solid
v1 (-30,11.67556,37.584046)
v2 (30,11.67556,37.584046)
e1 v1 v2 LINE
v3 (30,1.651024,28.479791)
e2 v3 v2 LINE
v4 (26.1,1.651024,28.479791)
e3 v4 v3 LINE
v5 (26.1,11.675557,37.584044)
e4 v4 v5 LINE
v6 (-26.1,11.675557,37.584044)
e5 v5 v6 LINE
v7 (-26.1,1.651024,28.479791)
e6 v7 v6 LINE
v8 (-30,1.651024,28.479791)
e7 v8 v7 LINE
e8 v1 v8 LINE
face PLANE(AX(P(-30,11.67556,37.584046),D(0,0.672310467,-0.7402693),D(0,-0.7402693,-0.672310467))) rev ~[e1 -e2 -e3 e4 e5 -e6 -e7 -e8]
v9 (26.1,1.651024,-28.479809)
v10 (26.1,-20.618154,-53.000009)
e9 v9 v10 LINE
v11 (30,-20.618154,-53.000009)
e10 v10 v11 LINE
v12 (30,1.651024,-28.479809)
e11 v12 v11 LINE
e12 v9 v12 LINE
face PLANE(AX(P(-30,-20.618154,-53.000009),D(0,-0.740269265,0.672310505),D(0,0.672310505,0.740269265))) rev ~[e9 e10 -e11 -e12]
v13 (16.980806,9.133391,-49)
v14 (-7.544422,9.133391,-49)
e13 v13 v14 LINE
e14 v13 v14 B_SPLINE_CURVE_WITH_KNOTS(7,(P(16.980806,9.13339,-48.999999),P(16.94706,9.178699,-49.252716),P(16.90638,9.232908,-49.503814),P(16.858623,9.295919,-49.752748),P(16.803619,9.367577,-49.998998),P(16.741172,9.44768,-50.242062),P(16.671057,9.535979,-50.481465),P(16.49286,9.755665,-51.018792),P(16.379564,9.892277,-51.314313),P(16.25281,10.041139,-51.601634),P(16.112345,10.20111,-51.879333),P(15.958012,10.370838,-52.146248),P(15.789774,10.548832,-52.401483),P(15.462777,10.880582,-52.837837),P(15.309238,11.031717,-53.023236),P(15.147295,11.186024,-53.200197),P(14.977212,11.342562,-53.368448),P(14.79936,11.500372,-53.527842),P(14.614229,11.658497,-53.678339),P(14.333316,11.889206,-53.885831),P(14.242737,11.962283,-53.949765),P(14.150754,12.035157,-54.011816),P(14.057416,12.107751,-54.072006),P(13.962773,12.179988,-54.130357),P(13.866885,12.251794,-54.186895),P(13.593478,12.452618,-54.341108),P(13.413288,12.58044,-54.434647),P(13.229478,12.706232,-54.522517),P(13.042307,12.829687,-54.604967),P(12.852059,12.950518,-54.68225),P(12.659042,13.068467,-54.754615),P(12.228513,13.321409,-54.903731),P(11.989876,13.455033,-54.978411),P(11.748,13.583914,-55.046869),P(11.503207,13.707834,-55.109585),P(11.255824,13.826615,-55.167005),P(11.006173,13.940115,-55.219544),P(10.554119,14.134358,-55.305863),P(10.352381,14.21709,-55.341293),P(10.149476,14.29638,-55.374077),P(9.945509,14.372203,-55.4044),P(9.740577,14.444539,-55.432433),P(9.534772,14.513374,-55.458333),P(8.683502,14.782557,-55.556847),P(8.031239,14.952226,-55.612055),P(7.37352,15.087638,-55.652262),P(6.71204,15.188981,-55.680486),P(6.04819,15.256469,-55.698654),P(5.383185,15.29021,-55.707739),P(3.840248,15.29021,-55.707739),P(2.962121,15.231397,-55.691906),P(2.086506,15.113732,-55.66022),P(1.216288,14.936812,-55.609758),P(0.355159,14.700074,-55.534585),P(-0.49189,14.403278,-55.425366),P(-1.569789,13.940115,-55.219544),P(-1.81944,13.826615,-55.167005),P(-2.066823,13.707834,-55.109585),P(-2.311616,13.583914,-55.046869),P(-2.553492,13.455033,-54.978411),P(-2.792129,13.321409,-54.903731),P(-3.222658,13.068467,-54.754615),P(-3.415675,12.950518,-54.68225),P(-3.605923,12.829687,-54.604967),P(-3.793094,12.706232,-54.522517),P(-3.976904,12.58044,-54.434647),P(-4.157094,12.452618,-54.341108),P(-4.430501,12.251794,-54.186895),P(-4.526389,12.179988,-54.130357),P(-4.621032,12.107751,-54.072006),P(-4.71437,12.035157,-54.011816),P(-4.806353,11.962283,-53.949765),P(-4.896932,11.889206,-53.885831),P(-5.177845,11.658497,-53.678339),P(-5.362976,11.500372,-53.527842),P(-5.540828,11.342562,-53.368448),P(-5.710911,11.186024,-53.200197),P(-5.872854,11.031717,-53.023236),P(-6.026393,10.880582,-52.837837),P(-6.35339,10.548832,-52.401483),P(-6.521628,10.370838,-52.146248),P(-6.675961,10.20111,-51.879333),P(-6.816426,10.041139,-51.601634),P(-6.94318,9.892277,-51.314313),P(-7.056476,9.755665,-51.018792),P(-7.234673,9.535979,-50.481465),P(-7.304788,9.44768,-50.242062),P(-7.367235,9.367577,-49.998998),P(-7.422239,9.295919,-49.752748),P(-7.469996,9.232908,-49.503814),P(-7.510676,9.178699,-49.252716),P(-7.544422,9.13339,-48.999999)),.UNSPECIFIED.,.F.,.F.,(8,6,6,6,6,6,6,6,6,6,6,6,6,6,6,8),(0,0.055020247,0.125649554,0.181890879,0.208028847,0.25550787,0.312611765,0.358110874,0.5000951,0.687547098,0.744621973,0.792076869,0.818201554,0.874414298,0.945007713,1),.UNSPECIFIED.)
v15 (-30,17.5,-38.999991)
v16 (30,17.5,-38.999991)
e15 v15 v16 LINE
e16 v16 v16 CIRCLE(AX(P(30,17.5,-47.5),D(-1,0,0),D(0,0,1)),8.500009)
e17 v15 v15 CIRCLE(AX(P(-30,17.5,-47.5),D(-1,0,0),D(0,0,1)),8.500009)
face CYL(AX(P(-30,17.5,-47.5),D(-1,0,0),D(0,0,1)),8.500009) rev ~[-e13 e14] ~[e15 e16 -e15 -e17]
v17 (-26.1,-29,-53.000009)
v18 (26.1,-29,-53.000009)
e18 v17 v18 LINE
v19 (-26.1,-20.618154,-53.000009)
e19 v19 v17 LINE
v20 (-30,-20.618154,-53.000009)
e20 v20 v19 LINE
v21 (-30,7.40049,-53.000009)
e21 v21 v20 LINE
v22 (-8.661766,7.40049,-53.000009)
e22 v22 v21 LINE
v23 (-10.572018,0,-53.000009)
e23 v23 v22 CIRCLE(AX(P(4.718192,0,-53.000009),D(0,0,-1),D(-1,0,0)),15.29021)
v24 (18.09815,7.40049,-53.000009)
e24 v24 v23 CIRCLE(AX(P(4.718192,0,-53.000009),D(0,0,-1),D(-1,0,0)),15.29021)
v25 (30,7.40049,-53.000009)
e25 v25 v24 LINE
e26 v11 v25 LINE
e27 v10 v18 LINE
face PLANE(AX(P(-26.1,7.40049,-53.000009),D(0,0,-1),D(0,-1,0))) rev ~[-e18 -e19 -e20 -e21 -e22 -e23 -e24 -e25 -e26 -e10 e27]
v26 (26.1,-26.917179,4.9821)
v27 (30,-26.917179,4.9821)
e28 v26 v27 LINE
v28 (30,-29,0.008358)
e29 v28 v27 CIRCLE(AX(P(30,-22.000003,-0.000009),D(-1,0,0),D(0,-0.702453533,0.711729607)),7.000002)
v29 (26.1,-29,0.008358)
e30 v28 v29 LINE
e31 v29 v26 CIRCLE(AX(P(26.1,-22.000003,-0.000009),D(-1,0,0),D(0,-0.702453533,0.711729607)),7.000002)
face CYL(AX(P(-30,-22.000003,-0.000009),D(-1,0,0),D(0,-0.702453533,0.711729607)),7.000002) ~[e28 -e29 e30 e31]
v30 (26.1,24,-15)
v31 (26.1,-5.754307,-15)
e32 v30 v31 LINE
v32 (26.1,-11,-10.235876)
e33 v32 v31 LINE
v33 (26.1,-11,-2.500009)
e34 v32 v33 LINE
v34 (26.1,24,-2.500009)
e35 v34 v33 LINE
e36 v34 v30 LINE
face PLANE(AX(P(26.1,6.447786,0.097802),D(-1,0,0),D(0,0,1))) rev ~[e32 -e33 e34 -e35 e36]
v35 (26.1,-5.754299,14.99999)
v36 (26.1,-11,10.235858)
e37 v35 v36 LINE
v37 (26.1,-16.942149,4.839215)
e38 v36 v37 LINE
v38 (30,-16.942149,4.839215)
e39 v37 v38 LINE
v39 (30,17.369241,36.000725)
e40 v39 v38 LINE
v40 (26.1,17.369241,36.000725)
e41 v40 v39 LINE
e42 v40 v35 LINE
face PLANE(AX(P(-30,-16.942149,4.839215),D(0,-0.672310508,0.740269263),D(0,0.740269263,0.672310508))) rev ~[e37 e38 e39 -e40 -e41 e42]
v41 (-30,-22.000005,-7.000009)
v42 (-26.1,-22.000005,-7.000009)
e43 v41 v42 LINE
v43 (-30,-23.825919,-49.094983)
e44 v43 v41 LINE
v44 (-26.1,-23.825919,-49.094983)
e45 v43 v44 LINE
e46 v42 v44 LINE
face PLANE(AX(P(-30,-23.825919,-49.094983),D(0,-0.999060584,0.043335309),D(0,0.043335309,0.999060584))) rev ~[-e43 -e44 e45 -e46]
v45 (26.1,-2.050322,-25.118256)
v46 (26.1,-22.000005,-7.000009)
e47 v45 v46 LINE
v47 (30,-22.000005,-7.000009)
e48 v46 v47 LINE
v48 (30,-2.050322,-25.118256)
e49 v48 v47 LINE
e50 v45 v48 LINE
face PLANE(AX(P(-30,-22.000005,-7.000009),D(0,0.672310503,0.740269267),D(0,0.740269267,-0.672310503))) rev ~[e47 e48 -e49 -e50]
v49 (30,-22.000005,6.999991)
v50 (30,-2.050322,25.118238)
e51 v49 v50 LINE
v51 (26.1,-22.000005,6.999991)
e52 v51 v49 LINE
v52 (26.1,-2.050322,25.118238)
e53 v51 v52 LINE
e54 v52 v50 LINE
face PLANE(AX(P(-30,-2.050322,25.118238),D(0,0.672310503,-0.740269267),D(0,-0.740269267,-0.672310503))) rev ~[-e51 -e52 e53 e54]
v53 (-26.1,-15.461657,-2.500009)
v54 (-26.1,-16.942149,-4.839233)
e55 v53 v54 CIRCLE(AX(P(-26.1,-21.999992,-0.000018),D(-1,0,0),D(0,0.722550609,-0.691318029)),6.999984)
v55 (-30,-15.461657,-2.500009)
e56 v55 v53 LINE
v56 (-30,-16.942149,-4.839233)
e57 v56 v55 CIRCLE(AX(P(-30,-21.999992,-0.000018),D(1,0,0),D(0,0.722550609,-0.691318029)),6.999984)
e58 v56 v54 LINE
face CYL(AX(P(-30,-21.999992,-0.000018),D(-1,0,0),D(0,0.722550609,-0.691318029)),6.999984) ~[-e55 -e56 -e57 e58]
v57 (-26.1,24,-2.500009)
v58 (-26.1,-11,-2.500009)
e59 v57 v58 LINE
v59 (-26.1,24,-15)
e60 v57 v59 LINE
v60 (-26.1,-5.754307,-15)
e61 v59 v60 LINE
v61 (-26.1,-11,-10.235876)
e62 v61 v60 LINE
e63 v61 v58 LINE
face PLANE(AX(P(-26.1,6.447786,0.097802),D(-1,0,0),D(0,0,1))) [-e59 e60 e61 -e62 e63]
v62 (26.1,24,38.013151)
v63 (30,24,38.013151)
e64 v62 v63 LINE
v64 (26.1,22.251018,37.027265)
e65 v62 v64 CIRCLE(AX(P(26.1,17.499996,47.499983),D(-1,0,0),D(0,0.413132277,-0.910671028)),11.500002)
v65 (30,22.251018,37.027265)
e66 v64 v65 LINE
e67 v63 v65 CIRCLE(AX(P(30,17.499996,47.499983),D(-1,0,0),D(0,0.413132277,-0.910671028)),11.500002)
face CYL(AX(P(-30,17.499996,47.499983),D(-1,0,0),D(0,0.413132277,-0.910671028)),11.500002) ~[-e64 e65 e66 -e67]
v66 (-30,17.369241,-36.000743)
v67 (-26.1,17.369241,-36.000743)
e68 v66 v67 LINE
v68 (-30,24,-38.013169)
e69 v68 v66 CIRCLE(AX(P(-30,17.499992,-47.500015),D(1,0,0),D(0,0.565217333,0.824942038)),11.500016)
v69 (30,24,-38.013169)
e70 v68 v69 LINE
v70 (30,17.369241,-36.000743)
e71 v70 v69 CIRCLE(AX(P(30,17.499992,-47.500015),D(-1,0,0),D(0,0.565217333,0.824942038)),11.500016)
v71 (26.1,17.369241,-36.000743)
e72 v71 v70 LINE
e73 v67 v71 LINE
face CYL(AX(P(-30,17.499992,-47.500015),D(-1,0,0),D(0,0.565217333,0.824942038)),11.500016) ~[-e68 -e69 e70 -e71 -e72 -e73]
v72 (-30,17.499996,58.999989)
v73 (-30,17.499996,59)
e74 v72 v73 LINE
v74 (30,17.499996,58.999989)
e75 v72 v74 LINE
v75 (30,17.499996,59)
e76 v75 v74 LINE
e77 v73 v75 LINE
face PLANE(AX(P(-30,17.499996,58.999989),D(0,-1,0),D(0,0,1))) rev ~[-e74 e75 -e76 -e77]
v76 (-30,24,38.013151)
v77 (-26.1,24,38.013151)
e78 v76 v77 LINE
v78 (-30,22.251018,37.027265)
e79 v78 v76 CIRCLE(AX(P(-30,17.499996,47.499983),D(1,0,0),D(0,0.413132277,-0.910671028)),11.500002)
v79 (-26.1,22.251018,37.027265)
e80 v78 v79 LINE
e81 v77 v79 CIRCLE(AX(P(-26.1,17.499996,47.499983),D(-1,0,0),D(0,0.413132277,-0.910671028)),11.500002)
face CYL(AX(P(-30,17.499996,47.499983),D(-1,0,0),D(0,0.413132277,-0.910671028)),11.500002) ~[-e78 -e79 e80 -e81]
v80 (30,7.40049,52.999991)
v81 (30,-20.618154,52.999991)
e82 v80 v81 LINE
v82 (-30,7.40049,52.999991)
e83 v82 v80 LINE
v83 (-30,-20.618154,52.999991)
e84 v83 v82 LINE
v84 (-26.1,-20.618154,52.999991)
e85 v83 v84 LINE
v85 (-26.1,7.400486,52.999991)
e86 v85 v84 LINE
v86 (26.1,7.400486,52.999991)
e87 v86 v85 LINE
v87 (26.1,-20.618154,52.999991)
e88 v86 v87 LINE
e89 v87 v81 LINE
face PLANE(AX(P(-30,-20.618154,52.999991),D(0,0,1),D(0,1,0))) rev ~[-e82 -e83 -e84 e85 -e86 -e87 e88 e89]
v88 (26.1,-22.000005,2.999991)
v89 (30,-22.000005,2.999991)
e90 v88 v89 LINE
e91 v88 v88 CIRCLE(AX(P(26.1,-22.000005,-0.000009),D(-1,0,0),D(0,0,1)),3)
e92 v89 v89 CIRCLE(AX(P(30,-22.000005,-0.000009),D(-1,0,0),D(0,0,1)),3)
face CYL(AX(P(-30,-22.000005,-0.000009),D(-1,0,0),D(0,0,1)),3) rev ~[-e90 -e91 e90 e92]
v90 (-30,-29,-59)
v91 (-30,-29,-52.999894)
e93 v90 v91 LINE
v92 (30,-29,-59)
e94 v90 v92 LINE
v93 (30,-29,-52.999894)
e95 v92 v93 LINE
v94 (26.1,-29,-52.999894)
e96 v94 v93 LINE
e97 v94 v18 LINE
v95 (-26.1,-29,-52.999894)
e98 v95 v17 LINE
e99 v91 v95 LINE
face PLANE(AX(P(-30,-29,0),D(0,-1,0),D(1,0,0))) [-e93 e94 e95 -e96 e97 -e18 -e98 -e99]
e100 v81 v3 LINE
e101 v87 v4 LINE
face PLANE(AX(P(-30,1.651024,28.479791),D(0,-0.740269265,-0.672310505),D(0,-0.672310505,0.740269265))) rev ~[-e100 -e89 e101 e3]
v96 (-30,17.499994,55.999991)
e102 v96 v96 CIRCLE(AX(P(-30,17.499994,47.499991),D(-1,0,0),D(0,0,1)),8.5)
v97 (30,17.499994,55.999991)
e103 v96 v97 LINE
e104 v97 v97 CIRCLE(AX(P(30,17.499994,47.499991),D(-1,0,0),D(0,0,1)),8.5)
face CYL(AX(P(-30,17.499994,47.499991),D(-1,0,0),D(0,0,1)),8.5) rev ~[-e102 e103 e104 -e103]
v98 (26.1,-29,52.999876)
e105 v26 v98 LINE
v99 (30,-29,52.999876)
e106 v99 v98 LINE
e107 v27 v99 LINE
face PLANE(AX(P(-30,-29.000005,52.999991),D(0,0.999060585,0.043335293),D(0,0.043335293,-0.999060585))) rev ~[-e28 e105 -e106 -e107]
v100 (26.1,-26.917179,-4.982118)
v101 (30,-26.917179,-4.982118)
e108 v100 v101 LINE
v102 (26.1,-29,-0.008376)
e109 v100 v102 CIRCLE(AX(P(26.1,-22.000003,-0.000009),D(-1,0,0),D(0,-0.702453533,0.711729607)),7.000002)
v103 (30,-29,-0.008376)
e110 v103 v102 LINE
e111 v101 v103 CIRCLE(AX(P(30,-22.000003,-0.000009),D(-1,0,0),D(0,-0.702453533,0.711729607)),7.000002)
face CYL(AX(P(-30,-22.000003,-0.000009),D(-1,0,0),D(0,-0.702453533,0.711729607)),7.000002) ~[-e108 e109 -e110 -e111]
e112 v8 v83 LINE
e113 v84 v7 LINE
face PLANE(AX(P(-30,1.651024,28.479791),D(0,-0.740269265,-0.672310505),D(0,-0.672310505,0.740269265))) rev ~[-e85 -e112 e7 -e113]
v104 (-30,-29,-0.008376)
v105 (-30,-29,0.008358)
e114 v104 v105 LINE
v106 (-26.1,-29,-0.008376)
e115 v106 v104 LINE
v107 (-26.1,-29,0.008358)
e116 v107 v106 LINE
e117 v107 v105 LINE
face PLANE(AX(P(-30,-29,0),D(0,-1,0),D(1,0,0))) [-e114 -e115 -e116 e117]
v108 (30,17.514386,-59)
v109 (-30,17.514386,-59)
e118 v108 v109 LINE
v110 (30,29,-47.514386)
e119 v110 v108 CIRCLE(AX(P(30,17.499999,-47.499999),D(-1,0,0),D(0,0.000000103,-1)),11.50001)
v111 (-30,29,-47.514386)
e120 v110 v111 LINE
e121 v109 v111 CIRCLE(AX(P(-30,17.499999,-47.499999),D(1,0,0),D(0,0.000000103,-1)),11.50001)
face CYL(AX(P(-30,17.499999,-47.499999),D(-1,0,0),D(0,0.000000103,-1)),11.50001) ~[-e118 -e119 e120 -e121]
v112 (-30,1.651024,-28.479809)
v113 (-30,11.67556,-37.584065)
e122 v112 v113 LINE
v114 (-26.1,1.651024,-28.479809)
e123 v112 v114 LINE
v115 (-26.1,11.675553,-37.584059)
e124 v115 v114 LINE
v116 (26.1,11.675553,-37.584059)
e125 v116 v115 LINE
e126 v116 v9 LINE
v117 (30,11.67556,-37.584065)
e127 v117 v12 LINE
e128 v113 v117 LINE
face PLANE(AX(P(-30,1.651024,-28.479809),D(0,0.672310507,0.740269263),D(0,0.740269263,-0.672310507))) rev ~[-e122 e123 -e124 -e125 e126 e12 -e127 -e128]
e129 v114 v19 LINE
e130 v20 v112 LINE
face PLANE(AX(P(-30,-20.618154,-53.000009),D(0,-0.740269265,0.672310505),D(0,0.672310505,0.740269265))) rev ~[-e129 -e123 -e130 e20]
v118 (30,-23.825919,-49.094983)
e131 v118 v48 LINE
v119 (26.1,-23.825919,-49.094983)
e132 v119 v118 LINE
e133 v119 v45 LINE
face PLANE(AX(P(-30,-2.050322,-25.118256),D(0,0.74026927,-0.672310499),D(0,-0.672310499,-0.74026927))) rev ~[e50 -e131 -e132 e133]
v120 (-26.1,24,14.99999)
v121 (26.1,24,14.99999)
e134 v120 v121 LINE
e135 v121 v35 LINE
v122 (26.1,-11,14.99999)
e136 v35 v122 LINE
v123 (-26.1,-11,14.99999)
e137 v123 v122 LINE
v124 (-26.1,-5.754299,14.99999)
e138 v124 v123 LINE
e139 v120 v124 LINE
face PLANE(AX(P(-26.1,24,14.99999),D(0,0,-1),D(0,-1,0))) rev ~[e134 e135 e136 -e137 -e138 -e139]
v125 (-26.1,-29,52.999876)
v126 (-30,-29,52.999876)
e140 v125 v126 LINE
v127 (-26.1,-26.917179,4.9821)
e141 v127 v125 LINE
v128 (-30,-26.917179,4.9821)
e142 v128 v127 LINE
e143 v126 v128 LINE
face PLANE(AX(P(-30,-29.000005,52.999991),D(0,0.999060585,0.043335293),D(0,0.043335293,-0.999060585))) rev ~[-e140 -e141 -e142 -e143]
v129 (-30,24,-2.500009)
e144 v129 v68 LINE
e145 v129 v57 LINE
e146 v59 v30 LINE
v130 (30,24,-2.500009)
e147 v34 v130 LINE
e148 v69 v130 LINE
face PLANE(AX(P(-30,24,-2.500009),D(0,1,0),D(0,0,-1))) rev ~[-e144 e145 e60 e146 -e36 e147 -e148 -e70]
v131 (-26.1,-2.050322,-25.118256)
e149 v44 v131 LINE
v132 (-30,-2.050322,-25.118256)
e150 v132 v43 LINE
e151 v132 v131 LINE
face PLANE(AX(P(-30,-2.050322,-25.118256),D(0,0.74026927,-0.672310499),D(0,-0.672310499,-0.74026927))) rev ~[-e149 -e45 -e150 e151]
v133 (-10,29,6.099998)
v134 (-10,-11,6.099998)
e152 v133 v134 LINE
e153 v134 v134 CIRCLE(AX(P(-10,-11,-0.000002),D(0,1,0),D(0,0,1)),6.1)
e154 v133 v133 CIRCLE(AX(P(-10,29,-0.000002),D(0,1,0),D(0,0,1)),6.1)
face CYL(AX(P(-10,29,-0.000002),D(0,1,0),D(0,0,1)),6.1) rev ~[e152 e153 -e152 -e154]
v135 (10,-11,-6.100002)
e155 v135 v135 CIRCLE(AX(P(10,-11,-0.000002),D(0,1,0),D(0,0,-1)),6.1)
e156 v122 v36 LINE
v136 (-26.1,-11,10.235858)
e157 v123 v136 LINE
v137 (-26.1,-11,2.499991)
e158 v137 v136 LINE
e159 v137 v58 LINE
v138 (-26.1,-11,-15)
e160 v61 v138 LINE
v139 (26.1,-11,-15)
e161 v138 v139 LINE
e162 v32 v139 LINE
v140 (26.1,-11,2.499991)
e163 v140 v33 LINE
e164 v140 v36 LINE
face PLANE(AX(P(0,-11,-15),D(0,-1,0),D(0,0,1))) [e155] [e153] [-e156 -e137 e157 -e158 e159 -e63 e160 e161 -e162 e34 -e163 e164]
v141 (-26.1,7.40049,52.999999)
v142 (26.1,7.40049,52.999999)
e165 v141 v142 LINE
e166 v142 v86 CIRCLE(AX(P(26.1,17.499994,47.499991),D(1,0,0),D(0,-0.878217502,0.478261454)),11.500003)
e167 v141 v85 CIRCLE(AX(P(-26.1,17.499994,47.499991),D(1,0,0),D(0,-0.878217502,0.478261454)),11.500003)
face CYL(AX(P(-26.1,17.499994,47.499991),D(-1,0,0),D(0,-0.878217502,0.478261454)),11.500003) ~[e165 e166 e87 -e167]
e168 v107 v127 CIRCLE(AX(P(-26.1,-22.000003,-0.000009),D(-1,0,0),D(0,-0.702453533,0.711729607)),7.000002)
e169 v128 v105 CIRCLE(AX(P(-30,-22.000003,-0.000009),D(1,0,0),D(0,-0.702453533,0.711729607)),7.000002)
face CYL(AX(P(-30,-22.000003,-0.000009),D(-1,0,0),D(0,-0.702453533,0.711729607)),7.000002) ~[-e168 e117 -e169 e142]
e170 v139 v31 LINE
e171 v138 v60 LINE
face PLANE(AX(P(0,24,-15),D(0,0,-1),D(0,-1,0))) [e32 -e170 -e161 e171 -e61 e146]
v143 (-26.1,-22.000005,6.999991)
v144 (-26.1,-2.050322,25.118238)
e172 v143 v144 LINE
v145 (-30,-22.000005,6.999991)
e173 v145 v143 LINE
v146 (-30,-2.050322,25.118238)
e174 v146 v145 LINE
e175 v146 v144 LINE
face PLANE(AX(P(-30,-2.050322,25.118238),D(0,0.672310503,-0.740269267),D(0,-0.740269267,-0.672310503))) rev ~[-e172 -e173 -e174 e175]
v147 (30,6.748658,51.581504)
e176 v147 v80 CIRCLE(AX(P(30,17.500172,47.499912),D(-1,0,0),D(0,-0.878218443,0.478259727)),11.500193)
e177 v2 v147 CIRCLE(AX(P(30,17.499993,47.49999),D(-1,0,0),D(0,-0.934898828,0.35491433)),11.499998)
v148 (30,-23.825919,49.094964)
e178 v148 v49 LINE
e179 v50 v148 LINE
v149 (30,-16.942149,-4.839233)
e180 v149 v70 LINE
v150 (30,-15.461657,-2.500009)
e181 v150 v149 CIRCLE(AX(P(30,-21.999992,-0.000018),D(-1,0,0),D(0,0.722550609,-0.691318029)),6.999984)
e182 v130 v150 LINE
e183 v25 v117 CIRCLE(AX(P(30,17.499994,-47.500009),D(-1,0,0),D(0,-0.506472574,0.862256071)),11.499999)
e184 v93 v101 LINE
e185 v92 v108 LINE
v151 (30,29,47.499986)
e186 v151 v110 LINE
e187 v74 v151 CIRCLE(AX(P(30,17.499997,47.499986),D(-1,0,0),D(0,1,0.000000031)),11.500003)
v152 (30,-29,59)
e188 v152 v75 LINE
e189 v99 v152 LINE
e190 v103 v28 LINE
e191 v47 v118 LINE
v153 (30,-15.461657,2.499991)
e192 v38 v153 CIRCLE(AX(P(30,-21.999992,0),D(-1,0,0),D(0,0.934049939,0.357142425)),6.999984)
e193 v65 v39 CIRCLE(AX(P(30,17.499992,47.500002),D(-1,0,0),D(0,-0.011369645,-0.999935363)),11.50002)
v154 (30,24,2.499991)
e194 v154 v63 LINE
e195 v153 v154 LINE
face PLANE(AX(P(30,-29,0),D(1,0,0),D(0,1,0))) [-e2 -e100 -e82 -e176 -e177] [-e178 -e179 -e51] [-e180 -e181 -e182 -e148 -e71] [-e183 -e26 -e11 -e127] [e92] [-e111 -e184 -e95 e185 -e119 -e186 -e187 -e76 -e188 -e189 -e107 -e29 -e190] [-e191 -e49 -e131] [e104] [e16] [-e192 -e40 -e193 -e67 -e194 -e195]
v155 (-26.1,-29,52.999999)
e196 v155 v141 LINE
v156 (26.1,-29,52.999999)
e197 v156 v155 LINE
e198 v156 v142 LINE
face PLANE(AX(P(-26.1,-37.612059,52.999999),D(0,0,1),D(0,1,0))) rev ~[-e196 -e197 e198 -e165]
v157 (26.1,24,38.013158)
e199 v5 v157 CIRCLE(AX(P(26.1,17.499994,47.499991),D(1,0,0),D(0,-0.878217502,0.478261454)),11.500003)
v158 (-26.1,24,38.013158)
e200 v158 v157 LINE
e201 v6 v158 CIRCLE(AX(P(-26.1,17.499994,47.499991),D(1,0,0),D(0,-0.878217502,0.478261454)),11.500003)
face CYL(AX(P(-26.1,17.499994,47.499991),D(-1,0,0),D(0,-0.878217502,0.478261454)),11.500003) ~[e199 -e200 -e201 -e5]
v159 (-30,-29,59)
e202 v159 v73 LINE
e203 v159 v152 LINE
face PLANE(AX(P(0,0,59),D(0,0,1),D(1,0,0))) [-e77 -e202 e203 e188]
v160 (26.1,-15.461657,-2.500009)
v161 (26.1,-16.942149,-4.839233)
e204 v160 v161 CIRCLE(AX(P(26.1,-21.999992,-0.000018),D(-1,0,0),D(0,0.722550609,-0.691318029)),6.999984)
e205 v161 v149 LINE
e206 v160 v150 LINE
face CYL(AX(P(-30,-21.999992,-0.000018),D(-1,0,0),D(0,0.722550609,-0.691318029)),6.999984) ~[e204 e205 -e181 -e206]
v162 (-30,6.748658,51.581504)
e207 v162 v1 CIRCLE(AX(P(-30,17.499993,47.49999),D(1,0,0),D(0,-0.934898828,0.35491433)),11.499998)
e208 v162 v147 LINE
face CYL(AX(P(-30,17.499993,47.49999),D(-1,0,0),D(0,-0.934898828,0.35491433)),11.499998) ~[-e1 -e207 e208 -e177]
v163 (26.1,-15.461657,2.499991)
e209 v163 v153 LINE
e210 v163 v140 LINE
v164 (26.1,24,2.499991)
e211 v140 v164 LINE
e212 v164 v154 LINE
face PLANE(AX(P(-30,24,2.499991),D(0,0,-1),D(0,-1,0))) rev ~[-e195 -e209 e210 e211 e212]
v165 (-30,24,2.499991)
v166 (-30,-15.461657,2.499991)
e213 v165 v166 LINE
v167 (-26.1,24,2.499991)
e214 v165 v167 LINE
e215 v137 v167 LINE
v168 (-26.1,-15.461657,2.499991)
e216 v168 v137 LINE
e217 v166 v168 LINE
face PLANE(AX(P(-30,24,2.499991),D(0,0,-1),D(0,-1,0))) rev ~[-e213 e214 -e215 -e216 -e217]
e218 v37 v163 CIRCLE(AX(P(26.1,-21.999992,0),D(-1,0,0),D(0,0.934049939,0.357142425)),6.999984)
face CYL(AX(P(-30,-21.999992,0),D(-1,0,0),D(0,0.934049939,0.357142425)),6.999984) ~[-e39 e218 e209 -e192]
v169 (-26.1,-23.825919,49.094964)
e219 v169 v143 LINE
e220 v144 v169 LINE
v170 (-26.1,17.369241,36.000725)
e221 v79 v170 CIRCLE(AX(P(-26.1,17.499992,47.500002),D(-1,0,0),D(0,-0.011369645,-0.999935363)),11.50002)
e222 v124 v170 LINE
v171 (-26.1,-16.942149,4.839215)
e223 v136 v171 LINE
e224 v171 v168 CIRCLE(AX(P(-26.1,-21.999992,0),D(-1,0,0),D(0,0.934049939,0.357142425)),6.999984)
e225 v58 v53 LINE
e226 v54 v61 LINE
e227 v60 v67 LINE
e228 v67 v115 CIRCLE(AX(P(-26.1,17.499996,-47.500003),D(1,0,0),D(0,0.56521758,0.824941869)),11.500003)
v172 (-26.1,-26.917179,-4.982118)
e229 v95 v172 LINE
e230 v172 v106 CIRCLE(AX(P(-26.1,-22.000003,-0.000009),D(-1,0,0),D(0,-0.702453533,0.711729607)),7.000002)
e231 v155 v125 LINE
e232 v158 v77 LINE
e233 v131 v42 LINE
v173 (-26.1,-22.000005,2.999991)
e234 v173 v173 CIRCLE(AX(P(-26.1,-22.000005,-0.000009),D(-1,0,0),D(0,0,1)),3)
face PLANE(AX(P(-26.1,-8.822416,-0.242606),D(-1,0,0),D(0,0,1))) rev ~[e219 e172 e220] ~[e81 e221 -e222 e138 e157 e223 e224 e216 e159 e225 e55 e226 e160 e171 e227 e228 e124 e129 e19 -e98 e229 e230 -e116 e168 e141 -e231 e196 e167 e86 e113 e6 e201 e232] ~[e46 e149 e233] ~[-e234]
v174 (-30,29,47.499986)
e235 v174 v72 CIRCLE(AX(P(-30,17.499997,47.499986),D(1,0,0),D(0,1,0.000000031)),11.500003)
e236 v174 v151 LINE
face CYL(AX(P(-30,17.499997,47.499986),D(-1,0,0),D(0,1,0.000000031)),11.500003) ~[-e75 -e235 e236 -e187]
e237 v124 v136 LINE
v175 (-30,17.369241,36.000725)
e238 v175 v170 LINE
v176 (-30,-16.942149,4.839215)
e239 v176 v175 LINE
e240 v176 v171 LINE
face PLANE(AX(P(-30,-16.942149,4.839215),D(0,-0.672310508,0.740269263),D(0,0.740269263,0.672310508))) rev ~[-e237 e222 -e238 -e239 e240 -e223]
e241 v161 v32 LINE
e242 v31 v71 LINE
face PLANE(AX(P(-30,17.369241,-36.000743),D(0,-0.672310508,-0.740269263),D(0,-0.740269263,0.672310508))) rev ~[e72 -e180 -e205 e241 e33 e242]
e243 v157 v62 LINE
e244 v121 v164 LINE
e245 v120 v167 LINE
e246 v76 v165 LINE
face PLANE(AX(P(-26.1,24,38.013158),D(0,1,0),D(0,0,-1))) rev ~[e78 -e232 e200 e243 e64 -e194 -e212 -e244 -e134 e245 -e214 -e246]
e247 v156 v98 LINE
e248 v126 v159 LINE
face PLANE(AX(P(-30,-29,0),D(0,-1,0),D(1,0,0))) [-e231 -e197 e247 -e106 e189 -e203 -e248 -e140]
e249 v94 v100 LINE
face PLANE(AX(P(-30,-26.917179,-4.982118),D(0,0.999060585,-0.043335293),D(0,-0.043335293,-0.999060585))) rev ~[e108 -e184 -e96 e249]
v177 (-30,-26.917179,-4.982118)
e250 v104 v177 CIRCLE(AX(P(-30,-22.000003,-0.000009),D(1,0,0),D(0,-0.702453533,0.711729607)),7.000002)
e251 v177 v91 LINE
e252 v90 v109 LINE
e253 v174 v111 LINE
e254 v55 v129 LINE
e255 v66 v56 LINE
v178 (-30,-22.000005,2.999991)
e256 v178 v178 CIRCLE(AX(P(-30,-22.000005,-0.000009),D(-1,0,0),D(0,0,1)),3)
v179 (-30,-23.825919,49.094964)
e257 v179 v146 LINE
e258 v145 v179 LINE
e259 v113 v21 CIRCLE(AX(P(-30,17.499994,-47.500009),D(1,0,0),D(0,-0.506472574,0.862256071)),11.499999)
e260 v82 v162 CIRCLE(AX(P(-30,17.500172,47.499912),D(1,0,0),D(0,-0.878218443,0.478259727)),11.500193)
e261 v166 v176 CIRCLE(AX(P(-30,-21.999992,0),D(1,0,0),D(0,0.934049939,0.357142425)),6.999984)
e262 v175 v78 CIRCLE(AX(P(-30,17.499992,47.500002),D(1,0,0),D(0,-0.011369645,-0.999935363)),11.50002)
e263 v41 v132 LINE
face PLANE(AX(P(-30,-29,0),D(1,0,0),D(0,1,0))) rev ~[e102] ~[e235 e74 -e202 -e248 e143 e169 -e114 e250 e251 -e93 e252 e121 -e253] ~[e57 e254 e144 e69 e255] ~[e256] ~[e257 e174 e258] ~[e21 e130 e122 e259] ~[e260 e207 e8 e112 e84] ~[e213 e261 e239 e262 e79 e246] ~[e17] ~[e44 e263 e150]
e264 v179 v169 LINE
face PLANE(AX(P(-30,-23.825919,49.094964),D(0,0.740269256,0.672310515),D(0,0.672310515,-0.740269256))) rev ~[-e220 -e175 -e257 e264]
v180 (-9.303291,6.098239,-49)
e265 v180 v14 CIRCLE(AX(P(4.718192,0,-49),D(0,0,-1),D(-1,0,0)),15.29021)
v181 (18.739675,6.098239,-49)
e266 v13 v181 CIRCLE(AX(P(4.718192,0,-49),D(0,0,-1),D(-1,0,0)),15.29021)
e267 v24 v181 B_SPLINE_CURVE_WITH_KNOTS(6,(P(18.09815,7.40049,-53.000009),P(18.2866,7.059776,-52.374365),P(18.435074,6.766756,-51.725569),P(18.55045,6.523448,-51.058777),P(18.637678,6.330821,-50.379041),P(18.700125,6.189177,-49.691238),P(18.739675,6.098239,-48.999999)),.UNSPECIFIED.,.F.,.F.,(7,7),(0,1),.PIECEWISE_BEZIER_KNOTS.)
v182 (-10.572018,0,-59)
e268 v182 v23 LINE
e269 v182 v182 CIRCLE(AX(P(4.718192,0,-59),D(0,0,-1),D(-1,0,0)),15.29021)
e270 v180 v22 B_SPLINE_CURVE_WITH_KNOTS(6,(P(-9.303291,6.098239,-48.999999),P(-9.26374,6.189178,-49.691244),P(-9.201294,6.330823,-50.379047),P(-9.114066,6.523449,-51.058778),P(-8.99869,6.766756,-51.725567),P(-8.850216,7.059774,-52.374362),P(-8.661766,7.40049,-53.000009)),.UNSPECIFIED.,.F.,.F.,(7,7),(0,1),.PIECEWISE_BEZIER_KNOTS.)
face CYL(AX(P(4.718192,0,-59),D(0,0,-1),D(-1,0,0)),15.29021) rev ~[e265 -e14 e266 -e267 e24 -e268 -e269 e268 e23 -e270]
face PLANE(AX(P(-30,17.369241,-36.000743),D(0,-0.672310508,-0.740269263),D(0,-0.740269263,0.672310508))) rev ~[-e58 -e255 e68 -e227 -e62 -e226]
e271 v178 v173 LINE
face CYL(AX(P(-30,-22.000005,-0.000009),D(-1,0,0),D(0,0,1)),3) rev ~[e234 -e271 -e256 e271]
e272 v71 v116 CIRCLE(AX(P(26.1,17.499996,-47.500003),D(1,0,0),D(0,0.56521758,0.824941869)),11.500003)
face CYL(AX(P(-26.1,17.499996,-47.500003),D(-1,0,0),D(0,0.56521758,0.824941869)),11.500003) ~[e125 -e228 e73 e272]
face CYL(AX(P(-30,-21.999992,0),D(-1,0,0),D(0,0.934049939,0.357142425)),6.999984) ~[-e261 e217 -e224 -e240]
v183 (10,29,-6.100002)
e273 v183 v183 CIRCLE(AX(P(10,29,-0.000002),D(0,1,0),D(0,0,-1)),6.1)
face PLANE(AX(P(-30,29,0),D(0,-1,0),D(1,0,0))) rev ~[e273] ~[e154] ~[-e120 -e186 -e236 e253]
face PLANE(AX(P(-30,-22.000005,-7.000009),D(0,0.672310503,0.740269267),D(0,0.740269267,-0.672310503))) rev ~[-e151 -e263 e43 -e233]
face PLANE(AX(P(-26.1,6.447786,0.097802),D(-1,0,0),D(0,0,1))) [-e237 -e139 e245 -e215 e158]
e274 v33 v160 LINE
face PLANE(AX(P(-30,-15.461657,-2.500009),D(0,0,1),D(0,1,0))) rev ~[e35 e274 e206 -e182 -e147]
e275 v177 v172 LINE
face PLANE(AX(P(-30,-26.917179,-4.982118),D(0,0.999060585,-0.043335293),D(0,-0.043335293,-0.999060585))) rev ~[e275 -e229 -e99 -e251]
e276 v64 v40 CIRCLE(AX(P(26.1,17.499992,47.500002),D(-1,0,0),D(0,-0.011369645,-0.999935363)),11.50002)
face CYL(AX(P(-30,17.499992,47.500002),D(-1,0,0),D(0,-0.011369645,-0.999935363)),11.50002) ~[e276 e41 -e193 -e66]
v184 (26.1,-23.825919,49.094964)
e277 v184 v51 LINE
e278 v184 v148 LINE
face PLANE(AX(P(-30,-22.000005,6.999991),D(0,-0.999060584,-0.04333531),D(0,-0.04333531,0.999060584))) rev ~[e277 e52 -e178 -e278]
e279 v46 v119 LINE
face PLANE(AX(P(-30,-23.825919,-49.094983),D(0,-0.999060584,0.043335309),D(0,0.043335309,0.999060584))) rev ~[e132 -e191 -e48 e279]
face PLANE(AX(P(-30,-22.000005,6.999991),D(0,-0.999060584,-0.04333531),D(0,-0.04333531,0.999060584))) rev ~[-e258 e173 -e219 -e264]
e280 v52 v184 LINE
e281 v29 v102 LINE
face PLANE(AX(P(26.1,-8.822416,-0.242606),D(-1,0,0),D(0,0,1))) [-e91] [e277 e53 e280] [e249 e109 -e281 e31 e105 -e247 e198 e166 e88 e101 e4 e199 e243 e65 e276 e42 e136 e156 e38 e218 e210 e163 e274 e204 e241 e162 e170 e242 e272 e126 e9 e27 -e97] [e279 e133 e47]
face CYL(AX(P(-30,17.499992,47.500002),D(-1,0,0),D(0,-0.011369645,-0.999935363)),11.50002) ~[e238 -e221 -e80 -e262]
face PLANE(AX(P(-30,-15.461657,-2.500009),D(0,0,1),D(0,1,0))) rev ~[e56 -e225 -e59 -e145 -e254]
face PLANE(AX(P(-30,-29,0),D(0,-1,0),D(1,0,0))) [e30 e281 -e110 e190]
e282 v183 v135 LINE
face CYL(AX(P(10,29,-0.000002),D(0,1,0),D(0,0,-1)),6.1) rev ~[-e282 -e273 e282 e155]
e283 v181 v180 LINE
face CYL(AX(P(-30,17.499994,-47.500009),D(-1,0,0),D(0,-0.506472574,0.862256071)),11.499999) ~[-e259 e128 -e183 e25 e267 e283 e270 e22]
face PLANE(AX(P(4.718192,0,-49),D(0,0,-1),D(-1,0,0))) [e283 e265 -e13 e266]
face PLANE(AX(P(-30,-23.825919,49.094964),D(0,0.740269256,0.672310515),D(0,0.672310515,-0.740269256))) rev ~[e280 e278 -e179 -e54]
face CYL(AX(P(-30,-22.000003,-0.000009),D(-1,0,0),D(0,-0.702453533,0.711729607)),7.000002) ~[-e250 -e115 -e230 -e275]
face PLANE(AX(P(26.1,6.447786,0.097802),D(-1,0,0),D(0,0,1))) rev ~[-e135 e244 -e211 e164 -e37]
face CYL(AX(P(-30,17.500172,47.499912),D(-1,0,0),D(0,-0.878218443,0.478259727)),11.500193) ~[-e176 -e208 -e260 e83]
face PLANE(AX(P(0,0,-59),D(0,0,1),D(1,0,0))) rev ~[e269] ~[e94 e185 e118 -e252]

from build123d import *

# Parameters (mm, degrees)
SKETCH4_W           = 60
SKETCH4_H           = 58
BOSS_EXTRUDE2_DEPTH = 59
SKETCH6_R           = 8.500009
SKETCH6_R_2         = 3
SKETCH6_R_3         = 8.5
CUT_EXTRUDE2_DEPTH  = 90.005618
BOSS_EXTRUDE3_START = -30
BOSS_EXTRUDE3_DEPTH = 26.1
CUT_EXTRUDE7_DEPTH  = 52.2
SKETCH9_R           = 6.1
CUT_EXTRUDE8_DEPTH  = 89.005682
SKETCH10_R          = 15.29021
CUT_EXTRUDE9_DEPTH  = 10


with BuildPart() as part:
    # Sketch4 → Boss-Extrude2 (new, symmetric)
    with BuildSketch(Plane.XY):
        Rectangle(SKETCH4_W, SKETCH4_H)
    extrude(amount=BOSS_EXTRUDE2_DEPTH, both=True)

    # Sketch6 → Cut-Extrude2 (cut, through all)
    with BuildSketch(Plane.ZY.offset(30)):
        with BuildLine():
            ThreePointArc((-38.013169, 24), (-36.495651, 20.839801), (-36.000743, 17.369241))
            Line((-36.000743, 17.369241), (-4.839233, -16.942149))
            ThreePointArc((-4.839233, -16.942149), (-3.743539, -16.08511), (-2.500009, -15.461657))
            Line((-2.500009, -15.461657), (-2.500009, 24))
            Line((-2.500009, 24), (-38.013169, 24))
        make_face()
        with BuildLine():
            Line((-28.479809, 1.651024), (-37.584065, 11.67556))
            ThreePointArc((-37.584065, 11.67556), (-44.426868, 6.418217), (-53.000009, 7.40049))
            Line((-53.000009, 7.40049), (-53.000009, -20.618154))
            Line((-53.000009, -20.618154), (-28.479809, 1.651024))
        make_face()
        Polygon((-7.000009, -22.000005), (-25.118256, -2.050322), (-49.094983, -23.825919), align=None)
        with BuildLine():
            ThreePointArc((4.9821, -26.917179), (-9e-06, -29.000005), (-4.982118, -26.917179))
            Line((-4.982118, -26.917179), (-53.000009, -29.000005))
            Line((-53.000009, -29.000005), (-53.000009, -39.703251))
            Line((-53.000009, -39.703251), (52.999991, -37.936887))
            Line((52.999991, -37.936887), (52.999991, -29.000005))
            Line((52.999991, -29.000005), (4.9821, -26.917179))
        make_face()
        with BuildLine():
            ThreePointArc((37.027265, 22.251018), (37.481967, 23.147065), (38.013151, 24))
            Line((38.013151, 24), (2.499991, 24))
            Line((2.499991, 24), (2.499991, -15.461657))
            ThreePointArc((2.499991, -15.461657), (3.743521, -16.08511), (4.839215, -16.942149))
            Line((4.839215, -16.942149), (36.000725, 17.369241))
            ThreePointArc((36.000725, 17.369241), (36.246101, 19.866462), (37.027265, 22.251018))
        make_face()
        Polygon((6.999991, -22.000005), (49.094964, -23.825919), (25.118238, -2.050322), align=None)
        with BuildLine():
            Line((37.584046, 11.67556), (28.479791, 1.651024))
            Line((28.479791, 1.651024), (52.999991, -20.618154))
            Line((52.999991, -20.618154), (52.999991, 7.40049))
            ThreePointArc((52.999991, 7.40049), (52.30182, 7.050477), (51.581504, 6.748658))
            ThreePointArc((51.581504, 6.748658), (43.681779, 6.652356), (37.584046, 11.67556))
        make_face()
        with BuildLine():
            ThreePointArc((-59.000009, 17.5), (-55.631734, 25.631734), (-47.5, 29.000009))
            Line((-47.5, 29.000009), (-47.5, 35.726664))
            Line((-47.5, 35.726664), (-66.854255, 35.726664))
            Line((-66.854255, 35.726664), (-66.147279, 17.5))
            Line((-66.147279, 17.5), (-59.000009, 17.5))
        make_face()
        with BuildLine():
            Line((47.076133, 34.936715), (47.499986, 29))
            ThreePointArc((47.499986, 29), (55.631716, 25.631727), (58.999989, 17.499996))
            Line((58.999989, 17.499996), (67.171398, 17.499996))
            Line((67.171398, 17.499996), (67.171398, 34.57466))
            Line((67.171398, 34.57466), (47.076133, 34.936715))
        make_face()
        with Locations((-47.5, 17.5)):
            Circle(SKETCH6_R)
        with Locations((-9e-06, -22.000005)):
            Circle(SKETCH6_R_2)
        with Locations((47.499991, 17.499994)):
            Circle(SKETCH6_R_3)
    extrude(amount=-CUT_EXTRUDE2_DEPTH, mode=Mode.SUBTRACT)

    # Sketch7 → Boss-Extrude3 (add, symmetric)
    with BuildSketch(Plane.ZY.offset(30).offset(BOSS_EXTRUDE3_START)):
        Polygon((-15, 24), (-15, -11), (15.389045, -11), (15, 24), align=None)
    extrude(amount=BOSS_EXTRUDE3_DEPTH, both=True)

    # Sketch8 → Cut-Extrude7 (cut)
    with BuildSketch(Plane.ZY.offset(26.1)):
        with BuildLine():
            Line((-15, 24), (-38.013169, 24))
            ThreePointArc((-38.013169, 24), (-38.964218, 9.793476), (-53.000009, 7.40049))
            Line((-53.000009, 7.40049), (-53.000009, -24.011121))
            Line((-53.000009, -24.011121), (-53.000009, -39.458207))
            Line((-53.000009, -39.458207), (52.999999, -37.612059))
            Line((52.999999, -37.612059), (52.999999, -24.011121))
            Line((52.999999, -24.011121), (52.999999, 7.40049))
            ThreePointArc((52.999999, 7.40049), (38.964206, 9.793474), (38.013158, 24))
            Line((38.013158, 24), (14.99999, 24))
            Line((14.99999, 24), (14.99999, -11))
            Line((14.99999, -11), (-14.201079, -11))
            Line((-14.201079, -11), (-15, -11))
            Line((-15, -11), (-15, 24))
        make_face()
    extrude(amount=-CUT_EXTRUDE7_DEPTH, mode=Mode.SUBTRACT)

    # Sketch9 → Cut-Extrude8 (cut, through all)
    with BuildSketch(Plane(origin=(0, 29, 0), x_dir=(1, 0, 0), z_dir=(0, 1, 0))):
        with Locations(Location((-10, 2e-06, 0), (0, 0, 270))):
            Circle(SKETCH9_R)
        with Locations(Location((10, 2e-06, 0), (0, 0, 90))):
            Circle(SKETCH9_R)
    extrude(amount=-CUT_EXTRUDE8_DEPTH, mode=Mode.SUBTRACT)

    # Sketch10 → Cut-Extrude9 (cut)
    with BuildSketch(Plane(origin=(0, 0, -59), x_dir=(-1, 0, 0), z_dir=(0, 0, -1))):
        with Locations((-4.718192, 0)):
            Circle(SKETCH10_R)
    extrude(amount=-CUT_EXTRUDE9_DEPTH, mode=Mode.SUBTRACT)


solid = part.part
